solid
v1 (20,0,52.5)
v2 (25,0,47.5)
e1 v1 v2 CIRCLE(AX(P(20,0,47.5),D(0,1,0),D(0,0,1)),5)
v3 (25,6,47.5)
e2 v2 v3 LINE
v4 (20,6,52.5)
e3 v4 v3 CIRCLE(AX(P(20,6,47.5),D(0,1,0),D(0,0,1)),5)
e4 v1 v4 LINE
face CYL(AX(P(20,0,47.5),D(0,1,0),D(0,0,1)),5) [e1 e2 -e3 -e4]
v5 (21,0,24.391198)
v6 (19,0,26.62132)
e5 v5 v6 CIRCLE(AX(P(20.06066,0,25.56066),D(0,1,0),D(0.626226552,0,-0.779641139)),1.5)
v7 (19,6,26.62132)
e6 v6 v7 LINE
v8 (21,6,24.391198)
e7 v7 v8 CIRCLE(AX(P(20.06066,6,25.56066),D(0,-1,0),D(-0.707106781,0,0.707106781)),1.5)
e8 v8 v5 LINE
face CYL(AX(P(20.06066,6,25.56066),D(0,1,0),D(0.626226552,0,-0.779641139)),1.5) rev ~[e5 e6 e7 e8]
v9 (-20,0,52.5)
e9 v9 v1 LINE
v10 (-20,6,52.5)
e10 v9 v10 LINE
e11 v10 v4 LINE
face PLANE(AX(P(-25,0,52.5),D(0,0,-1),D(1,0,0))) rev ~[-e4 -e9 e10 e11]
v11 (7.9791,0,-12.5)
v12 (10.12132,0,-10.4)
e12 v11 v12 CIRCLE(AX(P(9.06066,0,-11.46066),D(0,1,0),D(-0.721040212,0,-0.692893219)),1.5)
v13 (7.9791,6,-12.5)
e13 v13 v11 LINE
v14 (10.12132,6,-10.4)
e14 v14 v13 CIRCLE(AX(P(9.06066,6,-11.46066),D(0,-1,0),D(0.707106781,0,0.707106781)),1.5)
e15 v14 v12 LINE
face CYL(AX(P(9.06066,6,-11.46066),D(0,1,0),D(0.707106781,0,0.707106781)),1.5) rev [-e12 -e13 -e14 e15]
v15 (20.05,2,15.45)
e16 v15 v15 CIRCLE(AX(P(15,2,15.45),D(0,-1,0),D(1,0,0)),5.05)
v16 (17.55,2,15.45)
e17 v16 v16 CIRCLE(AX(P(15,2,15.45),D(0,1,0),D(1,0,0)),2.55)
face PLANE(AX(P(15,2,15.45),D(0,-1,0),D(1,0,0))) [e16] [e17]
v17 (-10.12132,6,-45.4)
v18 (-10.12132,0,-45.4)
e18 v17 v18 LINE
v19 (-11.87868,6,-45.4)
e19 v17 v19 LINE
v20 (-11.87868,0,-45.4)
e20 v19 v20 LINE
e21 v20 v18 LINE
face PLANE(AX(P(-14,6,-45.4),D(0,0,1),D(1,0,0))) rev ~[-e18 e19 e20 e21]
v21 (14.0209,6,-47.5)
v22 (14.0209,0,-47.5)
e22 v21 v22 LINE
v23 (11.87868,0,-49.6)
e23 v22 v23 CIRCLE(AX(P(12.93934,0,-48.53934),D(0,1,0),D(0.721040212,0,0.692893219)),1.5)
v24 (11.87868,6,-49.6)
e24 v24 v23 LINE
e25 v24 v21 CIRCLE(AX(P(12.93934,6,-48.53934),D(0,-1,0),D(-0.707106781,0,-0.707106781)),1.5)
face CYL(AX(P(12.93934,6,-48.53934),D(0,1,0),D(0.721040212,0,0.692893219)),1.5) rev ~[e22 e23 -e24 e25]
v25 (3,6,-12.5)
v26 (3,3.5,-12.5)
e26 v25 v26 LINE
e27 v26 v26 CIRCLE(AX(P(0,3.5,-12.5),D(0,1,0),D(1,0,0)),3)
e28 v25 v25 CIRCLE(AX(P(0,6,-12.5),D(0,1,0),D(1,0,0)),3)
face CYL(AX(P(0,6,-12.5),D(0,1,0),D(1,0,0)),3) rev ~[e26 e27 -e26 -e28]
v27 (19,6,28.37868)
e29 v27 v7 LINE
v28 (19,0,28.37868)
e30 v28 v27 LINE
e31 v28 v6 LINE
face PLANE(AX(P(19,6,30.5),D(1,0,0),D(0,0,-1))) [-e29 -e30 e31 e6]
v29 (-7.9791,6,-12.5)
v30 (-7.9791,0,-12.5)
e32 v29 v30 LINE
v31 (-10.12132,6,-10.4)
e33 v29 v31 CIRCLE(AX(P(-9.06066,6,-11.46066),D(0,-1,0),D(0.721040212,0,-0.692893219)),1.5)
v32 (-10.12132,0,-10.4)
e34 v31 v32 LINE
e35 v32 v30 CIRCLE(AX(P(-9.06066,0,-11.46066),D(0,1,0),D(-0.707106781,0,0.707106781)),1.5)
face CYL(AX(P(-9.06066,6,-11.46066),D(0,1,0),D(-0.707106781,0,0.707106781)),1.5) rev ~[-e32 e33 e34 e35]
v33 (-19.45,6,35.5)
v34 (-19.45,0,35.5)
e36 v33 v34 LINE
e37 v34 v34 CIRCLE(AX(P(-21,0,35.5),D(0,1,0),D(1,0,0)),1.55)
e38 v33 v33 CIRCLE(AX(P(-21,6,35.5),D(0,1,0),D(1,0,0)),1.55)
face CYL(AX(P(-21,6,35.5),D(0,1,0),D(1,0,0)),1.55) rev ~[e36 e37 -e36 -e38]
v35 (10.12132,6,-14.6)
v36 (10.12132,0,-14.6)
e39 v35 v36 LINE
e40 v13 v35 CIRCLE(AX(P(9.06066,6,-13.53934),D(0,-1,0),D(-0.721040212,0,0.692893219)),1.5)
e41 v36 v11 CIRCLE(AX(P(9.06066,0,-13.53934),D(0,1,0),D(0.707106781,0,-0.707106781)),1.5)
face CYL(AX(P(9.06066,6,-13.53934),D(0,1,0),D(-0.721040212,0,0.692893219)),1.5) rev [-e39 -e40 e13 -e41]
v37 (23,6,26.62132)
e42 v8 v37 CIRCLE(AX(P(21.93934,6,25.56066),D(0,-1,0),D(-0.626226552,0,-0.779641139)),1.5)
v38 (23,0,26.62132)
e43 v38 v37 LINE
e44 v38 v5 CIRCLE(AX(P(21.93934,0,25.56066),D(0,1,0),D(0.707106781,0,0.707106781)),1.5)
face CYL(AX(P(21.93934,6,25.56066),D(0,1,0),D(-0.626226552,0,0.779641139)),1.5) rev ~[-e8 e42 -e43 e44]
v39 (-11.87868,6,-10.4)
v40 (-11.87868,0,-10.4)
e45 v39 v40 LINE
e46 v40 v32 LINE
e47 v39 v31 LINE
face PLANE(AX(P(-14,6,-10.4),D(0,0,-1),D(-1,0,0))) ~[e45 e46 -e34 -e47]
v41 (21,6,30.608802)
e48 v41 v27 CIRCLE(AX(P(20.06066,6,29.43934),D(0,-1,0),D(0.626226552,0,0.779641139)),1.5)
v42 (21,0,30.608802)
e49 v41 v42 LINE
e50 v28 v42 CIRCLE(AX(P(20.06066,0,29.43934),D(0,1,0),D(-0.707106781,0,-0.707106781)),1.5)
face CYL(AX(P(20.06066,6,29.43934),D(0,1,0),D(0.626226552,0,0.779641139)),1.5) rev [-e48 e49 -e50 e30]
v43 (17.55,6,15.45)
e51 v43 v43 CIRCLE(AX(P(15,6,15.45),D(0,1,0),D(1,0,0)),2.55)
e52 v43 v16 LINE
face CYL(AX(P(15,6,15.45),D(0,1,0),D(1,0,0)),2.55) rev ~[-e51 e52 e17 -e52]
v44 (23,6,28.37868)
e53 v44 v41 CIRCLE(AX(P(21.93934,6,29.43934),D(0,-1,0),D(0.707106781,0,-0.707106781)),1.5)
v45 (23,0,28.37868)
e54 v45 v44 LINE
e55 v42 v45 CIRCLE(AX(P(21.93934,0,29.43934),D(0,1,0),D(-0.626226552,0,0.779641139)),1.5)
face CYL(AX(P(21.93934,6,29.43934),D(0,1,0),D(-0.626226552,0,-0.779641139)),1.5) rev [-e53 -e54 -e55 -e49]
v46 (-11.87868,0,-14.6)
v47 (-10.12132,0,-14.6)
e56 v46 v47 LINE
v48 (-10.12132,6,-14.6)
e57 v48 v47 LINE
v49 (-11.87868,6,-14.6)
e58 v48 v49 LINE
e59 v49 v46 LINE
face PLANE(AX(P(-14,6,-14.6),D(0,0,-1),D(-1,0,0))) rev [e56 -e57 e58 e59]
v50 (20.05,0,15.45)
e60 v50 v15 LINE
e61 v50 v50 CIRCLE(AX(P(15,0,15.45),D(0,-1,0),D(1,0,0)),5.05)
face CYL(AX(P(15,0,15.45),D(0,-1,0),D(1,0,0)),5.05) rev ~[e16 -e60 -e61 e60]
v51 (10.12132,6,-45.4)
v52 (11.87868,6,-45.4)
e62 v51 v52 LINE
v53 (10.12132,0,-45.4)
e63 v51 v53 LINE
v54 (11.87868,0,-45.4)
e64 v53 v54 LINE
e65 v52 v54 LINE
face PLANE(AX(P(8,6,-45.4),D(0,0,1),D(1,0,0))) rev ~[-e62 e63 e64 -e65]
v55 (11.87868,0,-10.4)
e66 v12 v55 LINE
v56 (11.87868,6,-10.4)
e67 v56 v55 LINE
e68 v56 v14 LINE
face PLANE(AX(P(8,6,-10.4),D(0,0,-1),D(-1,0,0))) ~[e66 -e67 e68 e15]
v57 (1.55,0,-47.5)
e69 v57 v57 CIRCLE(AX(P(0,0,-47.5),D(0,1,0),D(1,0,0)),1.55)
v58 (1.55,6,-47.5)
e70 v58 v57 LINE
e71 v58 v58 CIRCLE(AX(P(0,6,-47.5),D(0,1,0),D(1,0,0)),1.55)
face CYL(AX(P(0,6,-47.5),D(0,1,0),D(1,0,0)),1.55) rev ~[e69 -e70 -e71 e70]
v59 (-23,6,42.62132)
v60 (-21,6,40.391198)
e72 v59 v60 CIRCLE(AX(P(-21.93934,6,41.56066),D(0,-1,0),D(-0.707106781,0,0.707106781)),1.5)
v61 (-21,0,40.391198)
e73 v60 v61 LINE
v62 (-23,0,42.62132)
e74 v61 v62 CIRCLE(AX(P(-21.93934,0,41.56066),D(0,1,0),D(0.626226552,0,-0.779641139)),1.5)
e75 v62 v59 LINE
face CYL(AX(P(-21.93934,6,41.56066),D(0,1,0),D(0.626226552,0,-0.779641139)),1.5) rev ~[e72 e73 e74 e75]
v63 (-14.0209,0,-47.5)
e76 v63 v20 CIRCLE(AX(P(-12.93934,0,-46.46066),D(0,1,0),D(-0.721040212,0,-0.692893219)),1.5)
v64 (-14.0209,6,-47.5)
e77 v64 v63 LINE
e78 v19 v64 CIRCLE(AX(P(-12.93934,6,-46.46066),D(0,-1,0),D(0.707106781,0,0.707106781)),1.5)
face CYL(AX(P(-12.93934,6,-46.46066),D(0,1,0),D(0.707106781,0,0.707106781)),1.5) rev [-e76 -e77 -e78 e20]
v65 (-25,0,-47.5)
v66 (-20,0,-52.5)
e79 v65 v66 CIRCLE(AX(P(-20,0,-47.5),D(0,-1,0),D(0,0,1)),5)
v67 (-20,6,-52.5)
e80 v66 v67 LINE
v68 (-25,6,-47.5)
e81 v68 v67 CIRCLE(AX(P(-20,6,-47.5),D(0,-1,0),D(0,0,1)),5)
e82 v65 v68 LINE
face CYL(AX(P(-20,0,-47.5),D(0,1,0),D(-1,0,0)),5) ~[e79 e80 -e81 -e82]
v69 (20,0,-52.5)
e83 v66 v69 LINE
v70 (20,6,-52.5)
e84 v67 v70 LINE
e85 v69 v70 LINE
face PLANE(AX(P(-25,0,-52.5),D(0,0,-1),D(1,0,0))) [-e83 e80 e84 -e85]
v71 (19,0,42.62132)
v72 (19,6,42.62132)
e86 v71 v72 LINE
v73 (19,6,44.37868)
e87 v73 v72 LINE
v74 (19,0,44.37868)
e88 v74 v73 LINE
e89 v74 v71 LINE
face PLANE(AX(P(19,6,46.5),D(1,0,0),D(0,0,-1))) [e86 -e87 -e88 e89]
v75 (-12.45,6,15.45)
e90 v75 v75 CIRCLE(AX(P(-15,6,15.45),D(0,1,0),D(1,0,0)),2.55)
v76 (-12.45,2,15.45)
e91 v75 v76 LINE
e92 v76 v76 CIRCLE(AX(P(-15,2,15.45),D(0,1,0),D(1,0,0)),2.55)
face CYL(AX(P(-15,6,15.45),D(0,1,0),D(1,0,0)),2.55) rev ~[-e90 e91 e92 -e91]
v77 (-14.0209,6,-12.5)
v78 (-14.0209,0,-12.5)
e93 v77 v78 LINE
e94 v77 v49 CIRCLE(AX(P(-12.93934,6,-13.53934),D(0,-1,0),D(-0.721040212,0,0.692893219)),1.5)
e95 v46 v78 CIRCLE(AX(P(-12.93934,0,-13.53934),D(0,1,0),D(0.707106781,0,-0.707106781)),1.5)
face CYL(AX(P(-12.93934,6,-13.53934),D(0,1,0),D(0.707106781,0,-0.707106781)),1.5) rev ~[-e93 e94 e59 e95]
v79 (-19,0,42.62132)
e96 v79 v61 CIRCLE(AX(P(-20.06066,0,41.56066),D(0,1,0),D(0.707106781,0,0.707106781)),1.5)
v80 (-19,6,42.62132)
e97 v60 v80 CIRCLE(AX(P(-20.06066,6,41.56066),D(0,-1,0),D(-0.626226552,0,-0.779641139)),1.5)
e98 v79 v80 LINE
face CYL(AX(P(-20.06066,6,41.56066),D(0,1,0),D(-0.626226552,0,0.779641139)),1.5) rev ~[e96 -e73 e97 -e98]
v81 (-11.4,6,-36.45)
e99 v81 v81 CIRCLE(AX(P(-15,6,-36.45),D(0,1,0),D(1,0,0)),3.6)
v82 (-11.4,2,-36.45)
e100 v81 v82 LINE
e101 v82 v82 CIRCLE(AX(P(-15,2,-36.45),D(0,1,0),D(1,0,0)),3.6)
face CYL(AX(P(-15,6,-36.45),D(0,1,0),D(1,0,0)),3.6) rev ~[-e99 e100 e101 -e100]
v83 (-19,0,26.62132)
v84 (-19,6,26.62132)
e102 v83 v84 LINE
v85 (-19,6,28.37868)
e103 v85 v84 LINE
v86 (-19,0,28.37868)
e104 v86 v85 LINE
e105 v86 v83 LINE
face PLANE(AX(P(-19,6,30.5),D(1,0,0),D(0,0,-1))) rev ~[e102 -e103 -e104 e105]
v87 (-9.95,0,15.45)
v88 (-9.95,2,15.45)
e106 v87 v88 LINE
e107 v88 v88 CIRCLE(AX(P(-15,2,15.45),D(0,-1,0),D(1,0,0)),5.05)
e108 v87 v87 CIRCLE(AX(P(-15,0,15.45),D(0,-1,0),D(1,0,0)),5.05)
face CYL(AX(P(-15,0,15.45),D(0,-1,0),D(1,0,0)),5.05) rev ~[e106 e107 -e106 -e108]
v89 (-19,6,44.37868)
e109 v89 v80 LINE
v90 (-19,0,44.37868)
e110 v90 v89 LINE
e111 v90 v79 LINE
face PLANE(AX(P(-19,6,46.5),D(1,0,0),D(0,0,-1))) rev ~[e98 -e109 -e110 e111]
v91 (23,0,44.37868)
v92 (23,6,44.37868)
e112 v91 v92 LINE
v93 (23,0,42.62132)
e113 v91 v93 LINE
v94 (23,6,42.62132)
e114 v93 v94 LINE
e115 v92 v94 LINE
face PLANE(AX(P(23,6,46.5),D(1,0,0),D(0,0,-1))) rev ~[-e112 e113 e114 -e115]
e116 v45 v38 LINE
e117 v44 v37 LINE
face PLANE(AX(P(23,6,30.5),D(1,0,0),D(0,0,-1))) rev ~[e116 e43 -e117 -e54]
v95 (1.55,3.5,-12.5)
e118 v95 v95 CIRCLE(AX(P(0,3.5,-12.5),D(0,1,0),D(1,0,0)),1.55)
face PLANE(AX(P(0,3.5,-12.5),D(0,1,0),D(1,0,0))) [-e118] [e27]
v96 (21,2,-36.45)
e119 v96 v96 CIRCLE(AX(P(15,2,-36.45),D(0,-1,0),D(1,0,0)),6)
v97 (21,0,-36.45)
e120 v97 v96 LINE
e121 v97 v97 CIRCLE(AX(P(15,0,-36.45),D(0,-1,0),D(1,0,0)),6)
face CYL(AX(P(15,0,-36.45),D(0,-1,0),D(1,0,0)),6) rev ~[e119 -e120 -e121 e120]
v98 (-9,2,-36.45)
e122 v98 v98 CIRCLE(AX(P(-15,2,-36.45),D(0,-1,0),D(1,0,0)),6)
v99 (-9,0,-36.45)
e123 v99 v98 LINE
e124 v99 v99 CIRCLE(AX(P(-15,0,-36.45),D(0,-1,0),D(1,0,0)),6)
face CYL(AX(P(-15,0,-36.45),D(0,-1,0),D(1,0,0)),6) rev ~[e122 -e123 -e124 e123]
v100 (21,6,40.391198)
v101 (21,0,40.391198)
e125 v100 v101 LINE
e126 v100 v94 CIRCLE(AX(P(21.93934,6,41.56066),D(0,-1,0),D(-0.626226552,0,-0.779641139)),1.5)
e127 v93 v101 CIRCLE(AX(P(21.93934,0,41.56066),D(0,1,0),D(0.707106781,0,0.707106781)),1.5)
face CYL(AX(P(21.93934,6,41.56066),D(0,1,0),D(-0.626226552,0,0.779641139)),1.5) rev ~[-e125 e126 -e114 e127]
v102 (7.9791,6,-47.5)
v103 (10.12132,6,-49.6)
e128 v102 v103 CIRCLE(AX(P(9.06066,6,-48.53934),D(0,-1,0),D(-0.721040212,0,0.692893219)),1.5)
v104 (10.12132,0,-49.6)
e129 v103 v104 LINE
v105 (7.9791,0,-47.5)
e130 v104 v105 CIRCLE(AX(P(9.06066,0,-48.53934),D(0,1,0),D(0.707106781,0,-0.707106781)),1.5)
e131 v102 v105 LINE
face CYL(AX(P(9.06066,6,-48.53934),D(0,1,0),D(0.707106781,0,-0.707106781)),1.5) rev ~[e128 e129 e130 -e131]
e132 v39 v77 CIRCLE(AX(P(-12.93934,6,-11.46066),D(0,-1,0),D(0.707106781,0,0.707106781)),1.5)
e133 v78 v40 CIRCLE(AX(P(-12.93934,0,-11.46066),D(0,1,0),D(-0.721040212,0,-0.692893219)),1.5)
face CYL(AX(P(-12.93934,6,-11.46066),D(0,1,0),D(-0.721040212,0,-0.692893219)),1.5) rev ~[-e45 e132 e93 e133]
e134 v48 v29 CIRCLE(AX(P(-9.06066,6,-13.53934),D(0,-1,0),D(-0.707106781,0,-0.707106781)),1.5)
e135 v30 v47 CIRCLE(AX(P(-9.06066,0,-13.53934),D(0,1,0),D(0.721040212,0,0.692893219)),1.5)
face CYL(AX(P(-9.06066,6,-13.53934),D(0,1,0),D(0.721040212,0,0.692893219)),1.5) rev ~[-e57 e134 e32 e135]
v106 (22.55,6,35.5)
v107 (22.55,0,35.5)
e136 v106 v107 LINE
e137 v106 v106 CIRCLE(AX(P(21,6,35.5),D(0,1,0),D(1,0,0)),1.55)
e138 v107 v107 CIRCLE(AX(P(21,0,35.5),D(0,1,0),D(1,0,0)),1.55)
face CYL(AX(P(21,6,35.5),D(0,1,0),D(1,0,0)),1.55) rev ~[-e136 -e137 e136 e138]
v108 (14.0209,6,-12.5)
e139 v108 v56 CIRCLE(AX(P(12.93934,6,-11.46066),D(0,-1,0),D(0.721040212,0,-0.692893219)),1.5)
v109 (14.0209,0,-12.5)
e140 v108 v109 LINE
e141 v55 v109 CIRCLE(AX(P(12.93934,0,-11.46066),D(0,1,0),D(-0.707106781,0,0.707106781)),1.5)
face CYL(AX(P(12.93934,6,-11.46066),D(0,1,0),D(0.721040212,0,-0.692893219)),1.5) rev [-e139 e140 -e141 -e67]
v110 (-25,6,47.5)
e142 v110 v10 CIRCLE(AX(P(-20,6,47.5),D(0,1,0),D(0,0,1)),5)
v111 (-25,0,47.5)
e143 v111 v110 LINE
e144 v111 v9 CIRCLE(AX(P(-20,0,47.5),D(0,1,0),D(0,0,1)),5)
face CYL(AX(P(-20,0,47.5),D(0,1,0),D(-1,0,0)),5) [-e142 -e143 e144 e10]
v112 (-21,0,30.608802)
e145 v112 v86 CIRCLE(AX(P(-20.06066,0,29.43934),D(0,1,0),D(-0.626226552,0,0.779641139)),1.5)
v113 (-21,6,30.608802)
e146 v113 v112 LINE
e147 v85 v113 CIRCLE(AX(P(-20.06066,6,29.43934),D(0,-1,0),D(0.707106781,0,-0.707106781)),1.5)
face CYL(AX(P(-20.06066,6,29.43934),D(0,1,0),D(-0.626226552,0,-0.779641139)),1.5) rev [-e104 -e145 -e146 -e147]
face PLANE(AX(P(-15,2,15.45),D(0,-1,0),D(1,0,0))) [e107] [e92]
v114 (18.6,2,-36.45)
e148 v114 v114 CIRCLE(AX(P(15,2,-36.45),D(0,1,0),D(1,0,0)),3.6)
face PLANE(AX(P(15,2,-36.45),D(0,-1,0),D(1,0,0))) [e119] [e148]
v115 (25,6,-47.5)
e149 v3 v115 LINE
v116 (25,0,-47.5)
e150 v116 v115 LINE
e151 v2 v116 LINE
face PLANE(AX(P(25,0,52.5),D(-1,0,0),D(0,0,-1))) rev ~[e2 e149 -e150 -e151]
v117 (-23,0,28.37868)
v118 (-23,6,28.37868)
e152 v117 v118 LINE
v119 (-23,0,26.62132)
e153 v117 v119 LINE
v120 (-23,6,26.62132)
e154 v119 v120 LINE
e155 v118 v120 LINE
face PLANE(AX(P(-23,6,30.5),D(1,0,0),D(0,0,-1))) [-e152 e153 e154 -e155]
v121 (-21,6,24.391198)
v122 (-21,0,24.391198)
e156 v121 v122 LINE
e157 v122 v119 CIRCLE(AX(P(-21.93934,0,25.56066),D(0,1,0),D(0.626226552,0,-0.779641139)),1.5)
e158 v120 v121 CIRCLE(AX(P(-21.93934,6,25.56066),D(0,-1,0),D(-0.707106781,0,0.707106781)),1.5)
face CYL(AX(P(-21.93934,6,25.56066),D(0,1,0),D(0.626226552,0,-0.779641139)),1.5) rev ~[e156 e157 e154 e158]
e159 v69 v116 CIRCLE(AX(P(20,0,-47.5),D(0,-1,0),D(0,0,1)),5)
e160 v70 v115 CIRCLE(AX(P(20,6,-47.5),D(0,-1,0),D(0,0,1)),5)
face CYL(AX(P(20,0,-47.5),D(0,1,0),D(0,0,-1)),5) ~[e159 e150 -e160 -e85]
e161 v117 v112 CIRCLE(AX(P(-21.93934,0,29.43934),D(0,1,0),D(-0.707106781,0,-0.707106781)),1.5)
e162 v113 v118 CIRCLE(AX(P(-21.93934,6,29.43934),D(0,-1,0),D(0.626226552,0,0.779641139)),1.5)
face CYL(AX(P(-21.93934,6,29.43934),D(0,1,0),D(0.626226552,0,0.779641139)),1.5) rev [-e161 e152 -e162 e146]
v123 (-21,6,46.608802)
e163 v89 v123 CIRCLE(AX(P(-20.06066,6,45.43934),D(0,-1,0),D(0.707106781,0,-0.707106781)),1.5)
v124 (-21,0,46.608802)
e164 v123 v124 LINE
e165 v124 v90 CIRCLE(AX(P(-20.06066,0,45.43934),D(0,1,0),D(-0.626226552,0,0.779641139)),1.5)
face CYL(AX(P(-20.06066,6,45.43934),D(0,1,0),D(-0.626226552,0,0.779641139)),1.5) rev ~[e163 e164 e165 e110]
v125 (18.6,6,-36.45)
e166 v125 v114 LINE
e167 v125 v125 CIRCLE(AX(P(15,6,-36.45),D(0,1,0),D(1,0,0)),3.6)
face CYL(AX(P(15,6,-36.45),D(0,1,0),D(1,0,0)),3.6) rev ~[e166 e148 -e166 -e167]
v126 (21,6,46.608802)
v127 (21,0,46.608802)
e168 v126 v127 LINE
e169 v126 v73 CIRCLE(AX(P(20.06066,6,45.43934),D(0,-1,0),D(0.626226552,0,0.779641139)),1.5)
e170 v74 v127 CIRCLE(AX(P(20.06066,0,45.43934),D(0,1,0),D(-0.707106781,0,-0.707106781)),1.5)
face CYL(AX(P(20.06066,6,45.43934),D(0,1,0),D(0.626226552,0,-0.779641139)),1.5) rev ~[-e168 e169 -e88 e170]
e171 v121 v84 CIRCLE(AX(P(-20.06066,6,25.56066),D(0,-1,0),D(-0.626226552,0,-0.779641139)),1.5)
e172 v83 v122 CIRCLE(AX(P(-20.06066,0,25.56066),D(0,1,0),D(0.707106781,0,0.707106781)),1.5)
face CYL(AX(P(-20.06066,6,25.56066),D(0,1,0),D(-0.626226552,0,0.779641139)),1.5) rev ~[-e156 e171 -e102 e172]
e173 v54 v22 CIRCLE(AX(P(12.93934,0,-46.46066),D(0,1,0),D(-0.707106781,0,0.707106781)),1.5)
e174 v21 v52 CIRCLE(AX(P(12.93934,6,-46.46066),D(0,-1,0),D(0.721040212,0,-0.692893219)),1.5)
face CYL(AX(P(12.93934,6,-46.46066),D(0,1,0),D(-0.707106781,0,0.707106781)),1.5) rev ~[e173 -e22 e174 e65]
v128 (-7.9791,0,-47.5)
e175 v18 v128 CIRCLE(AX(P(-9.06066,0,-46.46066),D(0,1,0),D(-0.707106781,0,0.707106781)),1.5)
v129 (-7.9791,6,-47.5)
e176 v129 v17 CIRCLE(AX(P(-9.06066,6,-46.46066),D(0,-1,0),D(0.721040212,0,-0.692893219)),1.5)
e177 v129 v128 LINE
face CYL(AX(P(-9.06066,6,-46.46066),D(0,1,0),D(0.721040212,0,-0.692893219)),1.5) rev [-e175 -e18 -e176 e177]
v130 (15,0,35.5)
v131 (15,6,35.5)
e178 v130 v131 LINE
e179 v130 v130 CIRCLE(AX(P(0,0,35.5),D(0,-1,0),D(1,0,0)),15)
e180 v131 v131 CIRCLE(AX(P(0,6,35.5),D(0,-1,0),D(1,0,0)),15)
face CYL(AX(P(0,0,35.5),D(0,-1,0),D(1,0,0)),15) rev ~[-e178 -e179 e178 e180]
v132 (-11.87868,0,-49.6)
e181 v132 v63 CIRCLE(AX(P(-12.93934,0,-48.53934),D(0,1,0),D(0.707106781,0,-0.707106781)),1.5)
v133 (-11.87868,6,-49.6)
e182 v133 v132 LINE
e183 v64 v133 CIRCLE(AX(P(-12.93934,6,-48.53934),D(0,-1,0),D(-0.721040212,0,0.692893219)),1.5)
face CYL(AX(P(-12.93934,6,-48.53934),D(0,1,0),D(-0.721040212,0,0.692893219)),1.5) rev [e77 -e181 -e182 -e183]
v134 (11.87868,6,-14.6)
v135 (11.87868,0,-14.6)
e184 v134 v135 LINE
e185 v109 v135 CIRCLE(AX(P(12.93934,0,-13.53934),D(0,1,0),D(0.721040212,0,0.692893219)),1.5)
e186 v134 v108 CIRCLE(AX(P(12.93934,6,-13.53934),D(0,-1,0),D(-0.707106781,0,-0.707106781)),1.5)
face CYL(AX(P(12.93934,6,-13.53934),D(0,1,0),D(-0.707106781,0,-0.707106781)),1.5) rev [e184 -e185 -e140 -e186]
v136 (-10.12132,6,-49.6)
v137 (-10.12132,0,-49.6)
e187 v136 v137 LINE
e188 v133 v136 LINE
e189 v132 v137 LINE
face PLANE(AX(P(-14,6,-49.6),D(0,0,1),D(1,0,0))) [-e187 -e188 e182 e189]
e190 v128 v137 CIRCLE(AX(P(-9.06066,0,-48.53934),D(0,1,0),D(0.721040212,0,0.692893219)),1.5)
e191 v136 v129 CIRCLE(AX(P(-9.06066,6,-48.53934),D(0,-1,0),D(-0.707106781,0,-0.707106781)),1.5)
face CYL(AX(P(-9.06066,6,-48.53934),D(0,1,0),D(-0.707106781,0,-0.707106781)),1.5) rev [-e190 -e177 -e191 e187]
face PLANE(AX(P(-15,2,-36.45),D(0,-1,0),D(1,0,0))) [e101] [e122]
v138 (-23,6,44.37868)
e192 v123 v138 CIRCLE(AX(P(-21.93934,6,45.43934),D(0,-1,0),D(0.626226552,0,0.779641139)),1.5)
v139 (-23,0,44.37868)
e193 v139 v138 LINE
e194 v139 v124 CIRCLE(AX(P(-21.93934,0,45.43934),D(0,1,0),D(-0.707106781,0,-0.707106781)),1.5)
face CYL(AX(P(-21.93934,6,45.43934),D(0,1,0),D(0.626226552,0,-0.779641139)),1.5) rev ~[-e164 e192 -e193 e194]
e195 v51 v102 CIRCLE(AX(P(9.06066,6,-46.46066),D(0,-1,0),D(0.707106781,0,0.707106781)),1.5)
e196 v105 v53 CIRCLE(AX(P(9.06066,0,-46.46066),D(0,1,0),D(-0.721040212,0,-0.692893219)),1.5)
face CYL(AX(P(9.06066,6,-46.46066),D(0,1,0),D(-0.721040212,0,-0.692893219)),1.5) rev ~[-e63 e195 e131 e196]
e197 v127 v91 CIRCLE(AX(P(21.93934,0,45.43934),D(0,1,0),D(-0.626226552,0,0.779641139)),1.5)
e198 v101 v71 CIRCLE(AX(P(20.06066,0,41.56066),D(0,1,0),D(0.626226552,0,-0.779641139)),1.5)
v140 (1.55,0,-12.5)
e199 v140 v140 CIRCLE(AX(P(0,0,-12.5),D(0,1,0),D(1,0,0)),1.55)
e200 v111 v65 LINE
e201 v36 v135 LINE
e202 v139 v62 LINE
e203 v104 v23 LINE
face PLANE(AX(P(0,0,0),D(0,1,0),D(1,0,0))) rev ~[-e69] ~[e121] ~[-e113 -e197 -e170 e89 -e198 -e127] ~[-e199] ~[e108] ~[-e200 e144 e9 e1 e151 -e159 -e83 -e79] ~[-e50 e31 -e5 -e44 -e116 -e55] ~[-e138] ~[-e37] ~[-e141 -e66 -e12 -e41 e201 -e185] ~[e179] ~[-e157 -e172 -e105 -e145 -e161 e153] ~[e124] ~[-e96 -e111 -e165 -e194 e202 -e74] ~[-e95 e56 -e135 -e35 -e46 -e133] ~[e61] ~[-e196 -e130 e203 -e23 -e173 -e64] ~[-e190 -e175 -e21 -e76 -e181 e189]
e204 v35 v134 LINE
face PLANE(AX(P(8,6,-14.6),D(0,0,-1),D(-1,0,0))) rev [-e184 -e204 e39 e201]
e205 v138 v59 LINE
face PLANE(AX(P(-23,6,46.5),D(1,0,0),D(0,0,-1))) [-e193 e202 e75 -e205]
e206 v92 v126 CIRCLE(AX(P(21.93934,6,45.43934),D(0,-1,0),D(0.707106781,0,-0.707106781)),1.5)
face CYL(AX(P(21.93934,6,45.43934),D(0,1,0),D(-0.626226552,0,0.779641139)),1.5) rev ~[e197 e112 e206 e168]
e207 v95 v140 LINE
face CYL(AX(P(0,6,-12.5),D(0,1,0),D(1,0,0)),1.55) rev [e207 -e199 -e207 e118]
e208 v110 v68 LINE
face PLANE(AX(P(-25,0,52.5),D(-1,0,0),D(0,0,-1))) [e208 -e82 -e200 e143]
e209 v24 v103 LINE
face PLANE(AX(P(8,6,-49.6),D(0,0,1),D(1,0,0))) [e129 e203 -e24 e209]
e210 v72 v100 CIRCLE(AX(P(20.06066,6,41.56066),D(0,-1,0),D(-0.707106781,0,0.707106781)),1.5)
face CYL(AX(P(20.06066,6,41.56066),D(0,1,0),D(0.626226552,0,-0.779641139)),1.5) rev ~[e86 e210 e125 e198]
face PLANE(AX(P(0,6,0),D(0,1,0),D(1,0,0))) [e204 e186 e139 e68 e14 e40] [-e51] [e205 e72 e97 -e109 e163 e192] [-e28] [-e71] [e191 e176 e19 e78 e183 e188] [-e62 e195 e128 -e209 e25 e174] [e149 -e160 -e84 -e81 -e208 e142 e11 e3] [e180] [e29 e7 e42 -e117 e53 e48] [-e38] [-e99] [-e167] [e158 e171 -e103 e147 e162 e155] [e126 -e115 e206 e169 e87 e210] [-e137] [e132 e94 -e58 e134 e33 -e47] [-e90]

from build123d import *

# Parameters (mm, degrees)
CROQUIS1_W              = 50
CROQUIS1_H              = 105
SALIENTE_EXTRUIR1_DEPTH = 6
CROQUIS2_R              = 3.6
CROQUIS2_R_2            = 2.55
CORTAR_EXTRUIR2_DEPTH   = 7
CROQUIS4_R              = 6
CROQUIS4_R_2            = 5.05
CORTAR_EXTRUIR3_DEPTH   = 2
CROQUIS5_R              = 1.55
CROQUIS5_W              = 6
CROQUIS5_H              = 4.2
CORTAR_EXTRUIR4_DEPTH   = 7
CORTAR_EXTRUIR6_DEPTH   = 7
CROQUIS14_R             = 3
CORTAR_EXTRUIR9_DEPTH   = 2.5
CROQUIS16_R             = 15
CORTAR_EXTRUIR10_DEPTH  = 7
CROQUIS17_R             = 1.55
CROQUIS17_W             = 4
CROQUIS17_H             = 6
CORTAR_EXTRUIR11_DEPTH  = 7
REDONDEO1_R             = 5
CORTAR_EXTRUIR12_DEPTH  = 7


with BuildPart() as part:
    # Croquis1 → Saliente-Extruir1 (new body)
    with BuildSketch(Plane(origin=(0, 0, 0), x_dir=(1, 0, 0), z_dir=(0, 1, 0))):
        Rectangle(CROQUIS1_W, CROQUIS1_H)
    extrude(amount=SALIENTE_EXTRUIR1_DEPTH)

    # Croquis2 → Cortar-Extruir2 (cut, through all)
    with BuildSketch(Plane(origin=(0, 6, 0), x_dir=(1, 0, 0), z_dir=(0, 1, 0))):
        with Locations((-15, 36.45)):
            Circle(CROQUIS2_R)
        with Locations((15, 36.45)):
            Circle(CROQUIS2_R)
        with Locations((15, -15.45)):
            Circle(CROQUIS2_R_2)
        with Locations((-15, -15.45)):
            Circle(CROQUIS2_R_2)
    extrude(amount=-CORTAR_EXTRUIR2_DEPTH, mode=Mode.SUBTRACT)

    # Croquis4 → Cortar-Extruir3 (cut)
    with BuildSketch(Plane.XZ):
        with Locations((15, -36.45)):
            Circle(CROQUIS4_R)
        with Locations((-15, -36.45)):
            Circle(CROQUIS4_R)
        with Locations((-15, 15.45)):
            Circle(CROQUIS4_R_2)
        with Locations((15, 15.45)):
            Circle(CROQUIS4_R_2)
    extrude(amount=-CORTAR_EXTRUIR3_DEPTH, mode=Mode.SUBTRACT)

    # Croquis5 → Cortar-Extruir4 (cut, through all)
    with BuildSketch(Plane(origin=(0, 6, 0), x_dir=(1, 0, 0), z_dir=(0, 1, 0))):
        with Locations((0, 47.5)):
            Circle(CROQUIS5_R)
        with Locations((-11, 47.5)):
            Rectangle(CROQUIS5_W, CROQUIS5_H)
        with Locations((11, 47.5)):
            Rectangle(CROQUIS5_W, CROQUIS5_H)
    cortar_extruir4 = extrude(amount=-CORTAR_EXTRUIR4_DEPTH, mode=Mode.SUBTRACT)

    # Croquis8 → Cortar-Extruir6 (cut, through all)
    with BuildSketch(Plane(origin=(0, 6, 0), x_dir=(1, 0, 0), z_dir=(0, 1, 0))):
        with BuildLine():
            Line((-11.878679656, 49.6), (-10.121320344, 49.6))
            ThreePointArc((-10.121320344, 49.6), (-8.010608171, 49.610503119), (-7.979099854, 47.5))
            ThreePointArc((-7.979099854, 47.5), (-8.010608171, 45.389496881), (-10.121320344, 45.4))
            Line((-10.121320344, 45.4), (-11.878679656, 45.4))
            ThreePointArc((-11.878679656, 45.4), (-13.989391829, 45.389496881), (-14.020900146, 47.5))
            ThreePointArc((-14.020900146, 47.5), (-13.989391829, 49.610503119), (-11.878679656, 49.6))
        make_face()
        with BuildLine():
            Line((10.121320344, 45.4), (11.878679656, 45.4))
            ThreePointArc((11.878679656, 45.4), (13.989391829, 45.389496881), (14.020900146, 47.5))
            ThreePointArc((14.020900146, 47.5), (13.989391829, 49.610503119), (11.878679656, 49.6))
            Line((11.878679656, 49.6), (10.121320344, 49.6))
            ThreePointArc((10.121320344, 49.6), (8.010608171, 49.610503119), (7.979099854, 47.5))
            ThreePointArc((7.979099854, 47.5), (8.010608171, 45.389496881), (10.121320344, 45.4))
        make_face()
    cortar_extruir6 = extrude(amount=-CORTAR_EXTRUIR6_DEPTH, mode=Mode.SUBTRACT)

    # Simetría1: Cortar-Extruir4, Cortar-Extruir6 across plane
    add(cortar_extruir4.mirror(Plane.XY.offset(-30)), mode=Mode.SUBTRACT)
    add(cortar_extruir6.mirror(Plane.XY.offset(-30)), mode=Mode.SUBTRACT)

    # Croquis14 → Cortar-Extruir9 (cut)
    with BuildSketch(Plane(origin=(0, 6, 0), x_dir=(1, 0, 0), z_dir=(0, 1, 0))):
        with Locations((0, 12.5)):
            Circle(CROQUIS14_R)
    extrude(amount=-CORTAR_EXTRUIR9_DEPTH, mode=Mode.SUBTRACT)

    # Croquis16 → Cortar-Extruir10 (cut, through all)
    with BuildSketch(Plane.XZ):
        with Locations((0, 35.5)):
            Circle(CROQUIS16_R)
    extrude(amount=-CORTAR_EXTRUIR10_DEPTH, mode=Mode.SUBTRACT)

    # Croquis17 → Cortar-Extruir11 (cut, through all)
    with BuildSketch(Plane(origin=(0, 6, 0), x_dir=(1, 0, 0), z_dir=(0, 1, 0))):
        with Locations((21, -35.5)):
            Circle(CROQUIS17_R)
        with Locations((-21, -35.5)):
            Circle(CROQUIS17_R)
        with Locations((-21, -43.5)):
            Rectangle(CROQUIS17_W, CROQUIS17_H)
        with Locations((21, -43.5)):
            Rectangle(CROQUIS17_W, CROQUIS17_H)
        with Locations((21, -27.5)):
            Rectangle(CROQUIS17_W, CROQUIS17_H)
        with Locations((-21, -27.5)):
            Rectangle(CROQUIS17_W, CROQUIS17_H)
    extrude(amount=-CORTAR_EXTRUIR11_DEPTH, mode=Mode.SUBTRACT)

    # Redondeo1
    redondeo1_edges = [part.edges().sort_by_distance(p)[0] for p in [
        (25, 3, 52.5),
        (-25, 3, 52.5),
        (-25, 3, -52.5),
        (25, 3, -52.5),
    ]]
    fillet(redondeo1_edges, radius=REDONDEO1_R)

    # Croquis18 → Cortar-Extruir12 (cut, through all)
    with BuildSketch(Plane(origin=(0, 6, 0), x_dir=(1, 0, 0), z_dir=(0, 1, 0))):
        with BuildLine():
            ThreePointArc((-21, -24.391198464), (-23.439339828, -25.560660172), (-21, -26.73012188))
            ThreePointArc((-21, -26.73012188), (-18.560660172, -25.560660172), (-21, -24.391198464))
        make_face()
        with BuildLine():
            ThreePointArc((-21, -30.608801536), (-23.439339828, -29.439339828), (-21, -28.26987812))
            ThreePointArc((-21, -28.26987812), (-18.560660172, -29.439339828), (-21, -30.608801536))
        make_face()
        with BuildLine():
            ThreePointArc((-21, -46.608801536), (-18.560660172, -45.439339828), (-21, -44.26987812))
            ThreePointArc((-21, -44.26987812), (-23.439339828, -45.439339828), (-21, -46.608801536))
        make_face()
        with BuildLine():
            ThreePointArc((-21, -40.391198464), (-23.439339828, -41.560660172), (-21, -42.73012188))
            ThreePointArc((-21, -42.73012188), (-18.560660172, -41.560660172), (-21, -40.391198464))
        make_face()
        with BuildLine():
            ThreePointArc((21, -24.391198464), (18.560660172, -25.560660172), (21, -26.73012188))
            ThreePointArc((21, -26.73012188), (23.439339828, -25.560660172), (21, -24.391198464))
        make_face()
        with BuildLine():
            ThreePointArc((21, -30.608801536), (18.560660172, -29.439339828), (21, -28.26987812))
            ThreePointArc((21, -28.26987812), (23.439339828, -29.439339828), (21, -30.608801536))
        make_face()
        with BuildLine():
            ThreePointArc((21, -40.391198464), (18.560660172, -41.560660172), (21, -42.73012188))
            ThreePointArc((21, -42.73012188), (23.439339828, -41.560660172), (21, -40.391198464))
        make_face()
        with BuildLine():
            ThreePointArc((21, -46.608801536), (23.439339828, -45.439339828), (21, -44.26987812))
            ThreePointArc((21, -44.26987812), (18.560660172, -45.439339828), (21, -46.608801536))
        make_face()
    extrude(amount=-CORTAR_EXTRUIR12_DEPTH, mode=Mode.SUBTRACT)


solid = part.part
